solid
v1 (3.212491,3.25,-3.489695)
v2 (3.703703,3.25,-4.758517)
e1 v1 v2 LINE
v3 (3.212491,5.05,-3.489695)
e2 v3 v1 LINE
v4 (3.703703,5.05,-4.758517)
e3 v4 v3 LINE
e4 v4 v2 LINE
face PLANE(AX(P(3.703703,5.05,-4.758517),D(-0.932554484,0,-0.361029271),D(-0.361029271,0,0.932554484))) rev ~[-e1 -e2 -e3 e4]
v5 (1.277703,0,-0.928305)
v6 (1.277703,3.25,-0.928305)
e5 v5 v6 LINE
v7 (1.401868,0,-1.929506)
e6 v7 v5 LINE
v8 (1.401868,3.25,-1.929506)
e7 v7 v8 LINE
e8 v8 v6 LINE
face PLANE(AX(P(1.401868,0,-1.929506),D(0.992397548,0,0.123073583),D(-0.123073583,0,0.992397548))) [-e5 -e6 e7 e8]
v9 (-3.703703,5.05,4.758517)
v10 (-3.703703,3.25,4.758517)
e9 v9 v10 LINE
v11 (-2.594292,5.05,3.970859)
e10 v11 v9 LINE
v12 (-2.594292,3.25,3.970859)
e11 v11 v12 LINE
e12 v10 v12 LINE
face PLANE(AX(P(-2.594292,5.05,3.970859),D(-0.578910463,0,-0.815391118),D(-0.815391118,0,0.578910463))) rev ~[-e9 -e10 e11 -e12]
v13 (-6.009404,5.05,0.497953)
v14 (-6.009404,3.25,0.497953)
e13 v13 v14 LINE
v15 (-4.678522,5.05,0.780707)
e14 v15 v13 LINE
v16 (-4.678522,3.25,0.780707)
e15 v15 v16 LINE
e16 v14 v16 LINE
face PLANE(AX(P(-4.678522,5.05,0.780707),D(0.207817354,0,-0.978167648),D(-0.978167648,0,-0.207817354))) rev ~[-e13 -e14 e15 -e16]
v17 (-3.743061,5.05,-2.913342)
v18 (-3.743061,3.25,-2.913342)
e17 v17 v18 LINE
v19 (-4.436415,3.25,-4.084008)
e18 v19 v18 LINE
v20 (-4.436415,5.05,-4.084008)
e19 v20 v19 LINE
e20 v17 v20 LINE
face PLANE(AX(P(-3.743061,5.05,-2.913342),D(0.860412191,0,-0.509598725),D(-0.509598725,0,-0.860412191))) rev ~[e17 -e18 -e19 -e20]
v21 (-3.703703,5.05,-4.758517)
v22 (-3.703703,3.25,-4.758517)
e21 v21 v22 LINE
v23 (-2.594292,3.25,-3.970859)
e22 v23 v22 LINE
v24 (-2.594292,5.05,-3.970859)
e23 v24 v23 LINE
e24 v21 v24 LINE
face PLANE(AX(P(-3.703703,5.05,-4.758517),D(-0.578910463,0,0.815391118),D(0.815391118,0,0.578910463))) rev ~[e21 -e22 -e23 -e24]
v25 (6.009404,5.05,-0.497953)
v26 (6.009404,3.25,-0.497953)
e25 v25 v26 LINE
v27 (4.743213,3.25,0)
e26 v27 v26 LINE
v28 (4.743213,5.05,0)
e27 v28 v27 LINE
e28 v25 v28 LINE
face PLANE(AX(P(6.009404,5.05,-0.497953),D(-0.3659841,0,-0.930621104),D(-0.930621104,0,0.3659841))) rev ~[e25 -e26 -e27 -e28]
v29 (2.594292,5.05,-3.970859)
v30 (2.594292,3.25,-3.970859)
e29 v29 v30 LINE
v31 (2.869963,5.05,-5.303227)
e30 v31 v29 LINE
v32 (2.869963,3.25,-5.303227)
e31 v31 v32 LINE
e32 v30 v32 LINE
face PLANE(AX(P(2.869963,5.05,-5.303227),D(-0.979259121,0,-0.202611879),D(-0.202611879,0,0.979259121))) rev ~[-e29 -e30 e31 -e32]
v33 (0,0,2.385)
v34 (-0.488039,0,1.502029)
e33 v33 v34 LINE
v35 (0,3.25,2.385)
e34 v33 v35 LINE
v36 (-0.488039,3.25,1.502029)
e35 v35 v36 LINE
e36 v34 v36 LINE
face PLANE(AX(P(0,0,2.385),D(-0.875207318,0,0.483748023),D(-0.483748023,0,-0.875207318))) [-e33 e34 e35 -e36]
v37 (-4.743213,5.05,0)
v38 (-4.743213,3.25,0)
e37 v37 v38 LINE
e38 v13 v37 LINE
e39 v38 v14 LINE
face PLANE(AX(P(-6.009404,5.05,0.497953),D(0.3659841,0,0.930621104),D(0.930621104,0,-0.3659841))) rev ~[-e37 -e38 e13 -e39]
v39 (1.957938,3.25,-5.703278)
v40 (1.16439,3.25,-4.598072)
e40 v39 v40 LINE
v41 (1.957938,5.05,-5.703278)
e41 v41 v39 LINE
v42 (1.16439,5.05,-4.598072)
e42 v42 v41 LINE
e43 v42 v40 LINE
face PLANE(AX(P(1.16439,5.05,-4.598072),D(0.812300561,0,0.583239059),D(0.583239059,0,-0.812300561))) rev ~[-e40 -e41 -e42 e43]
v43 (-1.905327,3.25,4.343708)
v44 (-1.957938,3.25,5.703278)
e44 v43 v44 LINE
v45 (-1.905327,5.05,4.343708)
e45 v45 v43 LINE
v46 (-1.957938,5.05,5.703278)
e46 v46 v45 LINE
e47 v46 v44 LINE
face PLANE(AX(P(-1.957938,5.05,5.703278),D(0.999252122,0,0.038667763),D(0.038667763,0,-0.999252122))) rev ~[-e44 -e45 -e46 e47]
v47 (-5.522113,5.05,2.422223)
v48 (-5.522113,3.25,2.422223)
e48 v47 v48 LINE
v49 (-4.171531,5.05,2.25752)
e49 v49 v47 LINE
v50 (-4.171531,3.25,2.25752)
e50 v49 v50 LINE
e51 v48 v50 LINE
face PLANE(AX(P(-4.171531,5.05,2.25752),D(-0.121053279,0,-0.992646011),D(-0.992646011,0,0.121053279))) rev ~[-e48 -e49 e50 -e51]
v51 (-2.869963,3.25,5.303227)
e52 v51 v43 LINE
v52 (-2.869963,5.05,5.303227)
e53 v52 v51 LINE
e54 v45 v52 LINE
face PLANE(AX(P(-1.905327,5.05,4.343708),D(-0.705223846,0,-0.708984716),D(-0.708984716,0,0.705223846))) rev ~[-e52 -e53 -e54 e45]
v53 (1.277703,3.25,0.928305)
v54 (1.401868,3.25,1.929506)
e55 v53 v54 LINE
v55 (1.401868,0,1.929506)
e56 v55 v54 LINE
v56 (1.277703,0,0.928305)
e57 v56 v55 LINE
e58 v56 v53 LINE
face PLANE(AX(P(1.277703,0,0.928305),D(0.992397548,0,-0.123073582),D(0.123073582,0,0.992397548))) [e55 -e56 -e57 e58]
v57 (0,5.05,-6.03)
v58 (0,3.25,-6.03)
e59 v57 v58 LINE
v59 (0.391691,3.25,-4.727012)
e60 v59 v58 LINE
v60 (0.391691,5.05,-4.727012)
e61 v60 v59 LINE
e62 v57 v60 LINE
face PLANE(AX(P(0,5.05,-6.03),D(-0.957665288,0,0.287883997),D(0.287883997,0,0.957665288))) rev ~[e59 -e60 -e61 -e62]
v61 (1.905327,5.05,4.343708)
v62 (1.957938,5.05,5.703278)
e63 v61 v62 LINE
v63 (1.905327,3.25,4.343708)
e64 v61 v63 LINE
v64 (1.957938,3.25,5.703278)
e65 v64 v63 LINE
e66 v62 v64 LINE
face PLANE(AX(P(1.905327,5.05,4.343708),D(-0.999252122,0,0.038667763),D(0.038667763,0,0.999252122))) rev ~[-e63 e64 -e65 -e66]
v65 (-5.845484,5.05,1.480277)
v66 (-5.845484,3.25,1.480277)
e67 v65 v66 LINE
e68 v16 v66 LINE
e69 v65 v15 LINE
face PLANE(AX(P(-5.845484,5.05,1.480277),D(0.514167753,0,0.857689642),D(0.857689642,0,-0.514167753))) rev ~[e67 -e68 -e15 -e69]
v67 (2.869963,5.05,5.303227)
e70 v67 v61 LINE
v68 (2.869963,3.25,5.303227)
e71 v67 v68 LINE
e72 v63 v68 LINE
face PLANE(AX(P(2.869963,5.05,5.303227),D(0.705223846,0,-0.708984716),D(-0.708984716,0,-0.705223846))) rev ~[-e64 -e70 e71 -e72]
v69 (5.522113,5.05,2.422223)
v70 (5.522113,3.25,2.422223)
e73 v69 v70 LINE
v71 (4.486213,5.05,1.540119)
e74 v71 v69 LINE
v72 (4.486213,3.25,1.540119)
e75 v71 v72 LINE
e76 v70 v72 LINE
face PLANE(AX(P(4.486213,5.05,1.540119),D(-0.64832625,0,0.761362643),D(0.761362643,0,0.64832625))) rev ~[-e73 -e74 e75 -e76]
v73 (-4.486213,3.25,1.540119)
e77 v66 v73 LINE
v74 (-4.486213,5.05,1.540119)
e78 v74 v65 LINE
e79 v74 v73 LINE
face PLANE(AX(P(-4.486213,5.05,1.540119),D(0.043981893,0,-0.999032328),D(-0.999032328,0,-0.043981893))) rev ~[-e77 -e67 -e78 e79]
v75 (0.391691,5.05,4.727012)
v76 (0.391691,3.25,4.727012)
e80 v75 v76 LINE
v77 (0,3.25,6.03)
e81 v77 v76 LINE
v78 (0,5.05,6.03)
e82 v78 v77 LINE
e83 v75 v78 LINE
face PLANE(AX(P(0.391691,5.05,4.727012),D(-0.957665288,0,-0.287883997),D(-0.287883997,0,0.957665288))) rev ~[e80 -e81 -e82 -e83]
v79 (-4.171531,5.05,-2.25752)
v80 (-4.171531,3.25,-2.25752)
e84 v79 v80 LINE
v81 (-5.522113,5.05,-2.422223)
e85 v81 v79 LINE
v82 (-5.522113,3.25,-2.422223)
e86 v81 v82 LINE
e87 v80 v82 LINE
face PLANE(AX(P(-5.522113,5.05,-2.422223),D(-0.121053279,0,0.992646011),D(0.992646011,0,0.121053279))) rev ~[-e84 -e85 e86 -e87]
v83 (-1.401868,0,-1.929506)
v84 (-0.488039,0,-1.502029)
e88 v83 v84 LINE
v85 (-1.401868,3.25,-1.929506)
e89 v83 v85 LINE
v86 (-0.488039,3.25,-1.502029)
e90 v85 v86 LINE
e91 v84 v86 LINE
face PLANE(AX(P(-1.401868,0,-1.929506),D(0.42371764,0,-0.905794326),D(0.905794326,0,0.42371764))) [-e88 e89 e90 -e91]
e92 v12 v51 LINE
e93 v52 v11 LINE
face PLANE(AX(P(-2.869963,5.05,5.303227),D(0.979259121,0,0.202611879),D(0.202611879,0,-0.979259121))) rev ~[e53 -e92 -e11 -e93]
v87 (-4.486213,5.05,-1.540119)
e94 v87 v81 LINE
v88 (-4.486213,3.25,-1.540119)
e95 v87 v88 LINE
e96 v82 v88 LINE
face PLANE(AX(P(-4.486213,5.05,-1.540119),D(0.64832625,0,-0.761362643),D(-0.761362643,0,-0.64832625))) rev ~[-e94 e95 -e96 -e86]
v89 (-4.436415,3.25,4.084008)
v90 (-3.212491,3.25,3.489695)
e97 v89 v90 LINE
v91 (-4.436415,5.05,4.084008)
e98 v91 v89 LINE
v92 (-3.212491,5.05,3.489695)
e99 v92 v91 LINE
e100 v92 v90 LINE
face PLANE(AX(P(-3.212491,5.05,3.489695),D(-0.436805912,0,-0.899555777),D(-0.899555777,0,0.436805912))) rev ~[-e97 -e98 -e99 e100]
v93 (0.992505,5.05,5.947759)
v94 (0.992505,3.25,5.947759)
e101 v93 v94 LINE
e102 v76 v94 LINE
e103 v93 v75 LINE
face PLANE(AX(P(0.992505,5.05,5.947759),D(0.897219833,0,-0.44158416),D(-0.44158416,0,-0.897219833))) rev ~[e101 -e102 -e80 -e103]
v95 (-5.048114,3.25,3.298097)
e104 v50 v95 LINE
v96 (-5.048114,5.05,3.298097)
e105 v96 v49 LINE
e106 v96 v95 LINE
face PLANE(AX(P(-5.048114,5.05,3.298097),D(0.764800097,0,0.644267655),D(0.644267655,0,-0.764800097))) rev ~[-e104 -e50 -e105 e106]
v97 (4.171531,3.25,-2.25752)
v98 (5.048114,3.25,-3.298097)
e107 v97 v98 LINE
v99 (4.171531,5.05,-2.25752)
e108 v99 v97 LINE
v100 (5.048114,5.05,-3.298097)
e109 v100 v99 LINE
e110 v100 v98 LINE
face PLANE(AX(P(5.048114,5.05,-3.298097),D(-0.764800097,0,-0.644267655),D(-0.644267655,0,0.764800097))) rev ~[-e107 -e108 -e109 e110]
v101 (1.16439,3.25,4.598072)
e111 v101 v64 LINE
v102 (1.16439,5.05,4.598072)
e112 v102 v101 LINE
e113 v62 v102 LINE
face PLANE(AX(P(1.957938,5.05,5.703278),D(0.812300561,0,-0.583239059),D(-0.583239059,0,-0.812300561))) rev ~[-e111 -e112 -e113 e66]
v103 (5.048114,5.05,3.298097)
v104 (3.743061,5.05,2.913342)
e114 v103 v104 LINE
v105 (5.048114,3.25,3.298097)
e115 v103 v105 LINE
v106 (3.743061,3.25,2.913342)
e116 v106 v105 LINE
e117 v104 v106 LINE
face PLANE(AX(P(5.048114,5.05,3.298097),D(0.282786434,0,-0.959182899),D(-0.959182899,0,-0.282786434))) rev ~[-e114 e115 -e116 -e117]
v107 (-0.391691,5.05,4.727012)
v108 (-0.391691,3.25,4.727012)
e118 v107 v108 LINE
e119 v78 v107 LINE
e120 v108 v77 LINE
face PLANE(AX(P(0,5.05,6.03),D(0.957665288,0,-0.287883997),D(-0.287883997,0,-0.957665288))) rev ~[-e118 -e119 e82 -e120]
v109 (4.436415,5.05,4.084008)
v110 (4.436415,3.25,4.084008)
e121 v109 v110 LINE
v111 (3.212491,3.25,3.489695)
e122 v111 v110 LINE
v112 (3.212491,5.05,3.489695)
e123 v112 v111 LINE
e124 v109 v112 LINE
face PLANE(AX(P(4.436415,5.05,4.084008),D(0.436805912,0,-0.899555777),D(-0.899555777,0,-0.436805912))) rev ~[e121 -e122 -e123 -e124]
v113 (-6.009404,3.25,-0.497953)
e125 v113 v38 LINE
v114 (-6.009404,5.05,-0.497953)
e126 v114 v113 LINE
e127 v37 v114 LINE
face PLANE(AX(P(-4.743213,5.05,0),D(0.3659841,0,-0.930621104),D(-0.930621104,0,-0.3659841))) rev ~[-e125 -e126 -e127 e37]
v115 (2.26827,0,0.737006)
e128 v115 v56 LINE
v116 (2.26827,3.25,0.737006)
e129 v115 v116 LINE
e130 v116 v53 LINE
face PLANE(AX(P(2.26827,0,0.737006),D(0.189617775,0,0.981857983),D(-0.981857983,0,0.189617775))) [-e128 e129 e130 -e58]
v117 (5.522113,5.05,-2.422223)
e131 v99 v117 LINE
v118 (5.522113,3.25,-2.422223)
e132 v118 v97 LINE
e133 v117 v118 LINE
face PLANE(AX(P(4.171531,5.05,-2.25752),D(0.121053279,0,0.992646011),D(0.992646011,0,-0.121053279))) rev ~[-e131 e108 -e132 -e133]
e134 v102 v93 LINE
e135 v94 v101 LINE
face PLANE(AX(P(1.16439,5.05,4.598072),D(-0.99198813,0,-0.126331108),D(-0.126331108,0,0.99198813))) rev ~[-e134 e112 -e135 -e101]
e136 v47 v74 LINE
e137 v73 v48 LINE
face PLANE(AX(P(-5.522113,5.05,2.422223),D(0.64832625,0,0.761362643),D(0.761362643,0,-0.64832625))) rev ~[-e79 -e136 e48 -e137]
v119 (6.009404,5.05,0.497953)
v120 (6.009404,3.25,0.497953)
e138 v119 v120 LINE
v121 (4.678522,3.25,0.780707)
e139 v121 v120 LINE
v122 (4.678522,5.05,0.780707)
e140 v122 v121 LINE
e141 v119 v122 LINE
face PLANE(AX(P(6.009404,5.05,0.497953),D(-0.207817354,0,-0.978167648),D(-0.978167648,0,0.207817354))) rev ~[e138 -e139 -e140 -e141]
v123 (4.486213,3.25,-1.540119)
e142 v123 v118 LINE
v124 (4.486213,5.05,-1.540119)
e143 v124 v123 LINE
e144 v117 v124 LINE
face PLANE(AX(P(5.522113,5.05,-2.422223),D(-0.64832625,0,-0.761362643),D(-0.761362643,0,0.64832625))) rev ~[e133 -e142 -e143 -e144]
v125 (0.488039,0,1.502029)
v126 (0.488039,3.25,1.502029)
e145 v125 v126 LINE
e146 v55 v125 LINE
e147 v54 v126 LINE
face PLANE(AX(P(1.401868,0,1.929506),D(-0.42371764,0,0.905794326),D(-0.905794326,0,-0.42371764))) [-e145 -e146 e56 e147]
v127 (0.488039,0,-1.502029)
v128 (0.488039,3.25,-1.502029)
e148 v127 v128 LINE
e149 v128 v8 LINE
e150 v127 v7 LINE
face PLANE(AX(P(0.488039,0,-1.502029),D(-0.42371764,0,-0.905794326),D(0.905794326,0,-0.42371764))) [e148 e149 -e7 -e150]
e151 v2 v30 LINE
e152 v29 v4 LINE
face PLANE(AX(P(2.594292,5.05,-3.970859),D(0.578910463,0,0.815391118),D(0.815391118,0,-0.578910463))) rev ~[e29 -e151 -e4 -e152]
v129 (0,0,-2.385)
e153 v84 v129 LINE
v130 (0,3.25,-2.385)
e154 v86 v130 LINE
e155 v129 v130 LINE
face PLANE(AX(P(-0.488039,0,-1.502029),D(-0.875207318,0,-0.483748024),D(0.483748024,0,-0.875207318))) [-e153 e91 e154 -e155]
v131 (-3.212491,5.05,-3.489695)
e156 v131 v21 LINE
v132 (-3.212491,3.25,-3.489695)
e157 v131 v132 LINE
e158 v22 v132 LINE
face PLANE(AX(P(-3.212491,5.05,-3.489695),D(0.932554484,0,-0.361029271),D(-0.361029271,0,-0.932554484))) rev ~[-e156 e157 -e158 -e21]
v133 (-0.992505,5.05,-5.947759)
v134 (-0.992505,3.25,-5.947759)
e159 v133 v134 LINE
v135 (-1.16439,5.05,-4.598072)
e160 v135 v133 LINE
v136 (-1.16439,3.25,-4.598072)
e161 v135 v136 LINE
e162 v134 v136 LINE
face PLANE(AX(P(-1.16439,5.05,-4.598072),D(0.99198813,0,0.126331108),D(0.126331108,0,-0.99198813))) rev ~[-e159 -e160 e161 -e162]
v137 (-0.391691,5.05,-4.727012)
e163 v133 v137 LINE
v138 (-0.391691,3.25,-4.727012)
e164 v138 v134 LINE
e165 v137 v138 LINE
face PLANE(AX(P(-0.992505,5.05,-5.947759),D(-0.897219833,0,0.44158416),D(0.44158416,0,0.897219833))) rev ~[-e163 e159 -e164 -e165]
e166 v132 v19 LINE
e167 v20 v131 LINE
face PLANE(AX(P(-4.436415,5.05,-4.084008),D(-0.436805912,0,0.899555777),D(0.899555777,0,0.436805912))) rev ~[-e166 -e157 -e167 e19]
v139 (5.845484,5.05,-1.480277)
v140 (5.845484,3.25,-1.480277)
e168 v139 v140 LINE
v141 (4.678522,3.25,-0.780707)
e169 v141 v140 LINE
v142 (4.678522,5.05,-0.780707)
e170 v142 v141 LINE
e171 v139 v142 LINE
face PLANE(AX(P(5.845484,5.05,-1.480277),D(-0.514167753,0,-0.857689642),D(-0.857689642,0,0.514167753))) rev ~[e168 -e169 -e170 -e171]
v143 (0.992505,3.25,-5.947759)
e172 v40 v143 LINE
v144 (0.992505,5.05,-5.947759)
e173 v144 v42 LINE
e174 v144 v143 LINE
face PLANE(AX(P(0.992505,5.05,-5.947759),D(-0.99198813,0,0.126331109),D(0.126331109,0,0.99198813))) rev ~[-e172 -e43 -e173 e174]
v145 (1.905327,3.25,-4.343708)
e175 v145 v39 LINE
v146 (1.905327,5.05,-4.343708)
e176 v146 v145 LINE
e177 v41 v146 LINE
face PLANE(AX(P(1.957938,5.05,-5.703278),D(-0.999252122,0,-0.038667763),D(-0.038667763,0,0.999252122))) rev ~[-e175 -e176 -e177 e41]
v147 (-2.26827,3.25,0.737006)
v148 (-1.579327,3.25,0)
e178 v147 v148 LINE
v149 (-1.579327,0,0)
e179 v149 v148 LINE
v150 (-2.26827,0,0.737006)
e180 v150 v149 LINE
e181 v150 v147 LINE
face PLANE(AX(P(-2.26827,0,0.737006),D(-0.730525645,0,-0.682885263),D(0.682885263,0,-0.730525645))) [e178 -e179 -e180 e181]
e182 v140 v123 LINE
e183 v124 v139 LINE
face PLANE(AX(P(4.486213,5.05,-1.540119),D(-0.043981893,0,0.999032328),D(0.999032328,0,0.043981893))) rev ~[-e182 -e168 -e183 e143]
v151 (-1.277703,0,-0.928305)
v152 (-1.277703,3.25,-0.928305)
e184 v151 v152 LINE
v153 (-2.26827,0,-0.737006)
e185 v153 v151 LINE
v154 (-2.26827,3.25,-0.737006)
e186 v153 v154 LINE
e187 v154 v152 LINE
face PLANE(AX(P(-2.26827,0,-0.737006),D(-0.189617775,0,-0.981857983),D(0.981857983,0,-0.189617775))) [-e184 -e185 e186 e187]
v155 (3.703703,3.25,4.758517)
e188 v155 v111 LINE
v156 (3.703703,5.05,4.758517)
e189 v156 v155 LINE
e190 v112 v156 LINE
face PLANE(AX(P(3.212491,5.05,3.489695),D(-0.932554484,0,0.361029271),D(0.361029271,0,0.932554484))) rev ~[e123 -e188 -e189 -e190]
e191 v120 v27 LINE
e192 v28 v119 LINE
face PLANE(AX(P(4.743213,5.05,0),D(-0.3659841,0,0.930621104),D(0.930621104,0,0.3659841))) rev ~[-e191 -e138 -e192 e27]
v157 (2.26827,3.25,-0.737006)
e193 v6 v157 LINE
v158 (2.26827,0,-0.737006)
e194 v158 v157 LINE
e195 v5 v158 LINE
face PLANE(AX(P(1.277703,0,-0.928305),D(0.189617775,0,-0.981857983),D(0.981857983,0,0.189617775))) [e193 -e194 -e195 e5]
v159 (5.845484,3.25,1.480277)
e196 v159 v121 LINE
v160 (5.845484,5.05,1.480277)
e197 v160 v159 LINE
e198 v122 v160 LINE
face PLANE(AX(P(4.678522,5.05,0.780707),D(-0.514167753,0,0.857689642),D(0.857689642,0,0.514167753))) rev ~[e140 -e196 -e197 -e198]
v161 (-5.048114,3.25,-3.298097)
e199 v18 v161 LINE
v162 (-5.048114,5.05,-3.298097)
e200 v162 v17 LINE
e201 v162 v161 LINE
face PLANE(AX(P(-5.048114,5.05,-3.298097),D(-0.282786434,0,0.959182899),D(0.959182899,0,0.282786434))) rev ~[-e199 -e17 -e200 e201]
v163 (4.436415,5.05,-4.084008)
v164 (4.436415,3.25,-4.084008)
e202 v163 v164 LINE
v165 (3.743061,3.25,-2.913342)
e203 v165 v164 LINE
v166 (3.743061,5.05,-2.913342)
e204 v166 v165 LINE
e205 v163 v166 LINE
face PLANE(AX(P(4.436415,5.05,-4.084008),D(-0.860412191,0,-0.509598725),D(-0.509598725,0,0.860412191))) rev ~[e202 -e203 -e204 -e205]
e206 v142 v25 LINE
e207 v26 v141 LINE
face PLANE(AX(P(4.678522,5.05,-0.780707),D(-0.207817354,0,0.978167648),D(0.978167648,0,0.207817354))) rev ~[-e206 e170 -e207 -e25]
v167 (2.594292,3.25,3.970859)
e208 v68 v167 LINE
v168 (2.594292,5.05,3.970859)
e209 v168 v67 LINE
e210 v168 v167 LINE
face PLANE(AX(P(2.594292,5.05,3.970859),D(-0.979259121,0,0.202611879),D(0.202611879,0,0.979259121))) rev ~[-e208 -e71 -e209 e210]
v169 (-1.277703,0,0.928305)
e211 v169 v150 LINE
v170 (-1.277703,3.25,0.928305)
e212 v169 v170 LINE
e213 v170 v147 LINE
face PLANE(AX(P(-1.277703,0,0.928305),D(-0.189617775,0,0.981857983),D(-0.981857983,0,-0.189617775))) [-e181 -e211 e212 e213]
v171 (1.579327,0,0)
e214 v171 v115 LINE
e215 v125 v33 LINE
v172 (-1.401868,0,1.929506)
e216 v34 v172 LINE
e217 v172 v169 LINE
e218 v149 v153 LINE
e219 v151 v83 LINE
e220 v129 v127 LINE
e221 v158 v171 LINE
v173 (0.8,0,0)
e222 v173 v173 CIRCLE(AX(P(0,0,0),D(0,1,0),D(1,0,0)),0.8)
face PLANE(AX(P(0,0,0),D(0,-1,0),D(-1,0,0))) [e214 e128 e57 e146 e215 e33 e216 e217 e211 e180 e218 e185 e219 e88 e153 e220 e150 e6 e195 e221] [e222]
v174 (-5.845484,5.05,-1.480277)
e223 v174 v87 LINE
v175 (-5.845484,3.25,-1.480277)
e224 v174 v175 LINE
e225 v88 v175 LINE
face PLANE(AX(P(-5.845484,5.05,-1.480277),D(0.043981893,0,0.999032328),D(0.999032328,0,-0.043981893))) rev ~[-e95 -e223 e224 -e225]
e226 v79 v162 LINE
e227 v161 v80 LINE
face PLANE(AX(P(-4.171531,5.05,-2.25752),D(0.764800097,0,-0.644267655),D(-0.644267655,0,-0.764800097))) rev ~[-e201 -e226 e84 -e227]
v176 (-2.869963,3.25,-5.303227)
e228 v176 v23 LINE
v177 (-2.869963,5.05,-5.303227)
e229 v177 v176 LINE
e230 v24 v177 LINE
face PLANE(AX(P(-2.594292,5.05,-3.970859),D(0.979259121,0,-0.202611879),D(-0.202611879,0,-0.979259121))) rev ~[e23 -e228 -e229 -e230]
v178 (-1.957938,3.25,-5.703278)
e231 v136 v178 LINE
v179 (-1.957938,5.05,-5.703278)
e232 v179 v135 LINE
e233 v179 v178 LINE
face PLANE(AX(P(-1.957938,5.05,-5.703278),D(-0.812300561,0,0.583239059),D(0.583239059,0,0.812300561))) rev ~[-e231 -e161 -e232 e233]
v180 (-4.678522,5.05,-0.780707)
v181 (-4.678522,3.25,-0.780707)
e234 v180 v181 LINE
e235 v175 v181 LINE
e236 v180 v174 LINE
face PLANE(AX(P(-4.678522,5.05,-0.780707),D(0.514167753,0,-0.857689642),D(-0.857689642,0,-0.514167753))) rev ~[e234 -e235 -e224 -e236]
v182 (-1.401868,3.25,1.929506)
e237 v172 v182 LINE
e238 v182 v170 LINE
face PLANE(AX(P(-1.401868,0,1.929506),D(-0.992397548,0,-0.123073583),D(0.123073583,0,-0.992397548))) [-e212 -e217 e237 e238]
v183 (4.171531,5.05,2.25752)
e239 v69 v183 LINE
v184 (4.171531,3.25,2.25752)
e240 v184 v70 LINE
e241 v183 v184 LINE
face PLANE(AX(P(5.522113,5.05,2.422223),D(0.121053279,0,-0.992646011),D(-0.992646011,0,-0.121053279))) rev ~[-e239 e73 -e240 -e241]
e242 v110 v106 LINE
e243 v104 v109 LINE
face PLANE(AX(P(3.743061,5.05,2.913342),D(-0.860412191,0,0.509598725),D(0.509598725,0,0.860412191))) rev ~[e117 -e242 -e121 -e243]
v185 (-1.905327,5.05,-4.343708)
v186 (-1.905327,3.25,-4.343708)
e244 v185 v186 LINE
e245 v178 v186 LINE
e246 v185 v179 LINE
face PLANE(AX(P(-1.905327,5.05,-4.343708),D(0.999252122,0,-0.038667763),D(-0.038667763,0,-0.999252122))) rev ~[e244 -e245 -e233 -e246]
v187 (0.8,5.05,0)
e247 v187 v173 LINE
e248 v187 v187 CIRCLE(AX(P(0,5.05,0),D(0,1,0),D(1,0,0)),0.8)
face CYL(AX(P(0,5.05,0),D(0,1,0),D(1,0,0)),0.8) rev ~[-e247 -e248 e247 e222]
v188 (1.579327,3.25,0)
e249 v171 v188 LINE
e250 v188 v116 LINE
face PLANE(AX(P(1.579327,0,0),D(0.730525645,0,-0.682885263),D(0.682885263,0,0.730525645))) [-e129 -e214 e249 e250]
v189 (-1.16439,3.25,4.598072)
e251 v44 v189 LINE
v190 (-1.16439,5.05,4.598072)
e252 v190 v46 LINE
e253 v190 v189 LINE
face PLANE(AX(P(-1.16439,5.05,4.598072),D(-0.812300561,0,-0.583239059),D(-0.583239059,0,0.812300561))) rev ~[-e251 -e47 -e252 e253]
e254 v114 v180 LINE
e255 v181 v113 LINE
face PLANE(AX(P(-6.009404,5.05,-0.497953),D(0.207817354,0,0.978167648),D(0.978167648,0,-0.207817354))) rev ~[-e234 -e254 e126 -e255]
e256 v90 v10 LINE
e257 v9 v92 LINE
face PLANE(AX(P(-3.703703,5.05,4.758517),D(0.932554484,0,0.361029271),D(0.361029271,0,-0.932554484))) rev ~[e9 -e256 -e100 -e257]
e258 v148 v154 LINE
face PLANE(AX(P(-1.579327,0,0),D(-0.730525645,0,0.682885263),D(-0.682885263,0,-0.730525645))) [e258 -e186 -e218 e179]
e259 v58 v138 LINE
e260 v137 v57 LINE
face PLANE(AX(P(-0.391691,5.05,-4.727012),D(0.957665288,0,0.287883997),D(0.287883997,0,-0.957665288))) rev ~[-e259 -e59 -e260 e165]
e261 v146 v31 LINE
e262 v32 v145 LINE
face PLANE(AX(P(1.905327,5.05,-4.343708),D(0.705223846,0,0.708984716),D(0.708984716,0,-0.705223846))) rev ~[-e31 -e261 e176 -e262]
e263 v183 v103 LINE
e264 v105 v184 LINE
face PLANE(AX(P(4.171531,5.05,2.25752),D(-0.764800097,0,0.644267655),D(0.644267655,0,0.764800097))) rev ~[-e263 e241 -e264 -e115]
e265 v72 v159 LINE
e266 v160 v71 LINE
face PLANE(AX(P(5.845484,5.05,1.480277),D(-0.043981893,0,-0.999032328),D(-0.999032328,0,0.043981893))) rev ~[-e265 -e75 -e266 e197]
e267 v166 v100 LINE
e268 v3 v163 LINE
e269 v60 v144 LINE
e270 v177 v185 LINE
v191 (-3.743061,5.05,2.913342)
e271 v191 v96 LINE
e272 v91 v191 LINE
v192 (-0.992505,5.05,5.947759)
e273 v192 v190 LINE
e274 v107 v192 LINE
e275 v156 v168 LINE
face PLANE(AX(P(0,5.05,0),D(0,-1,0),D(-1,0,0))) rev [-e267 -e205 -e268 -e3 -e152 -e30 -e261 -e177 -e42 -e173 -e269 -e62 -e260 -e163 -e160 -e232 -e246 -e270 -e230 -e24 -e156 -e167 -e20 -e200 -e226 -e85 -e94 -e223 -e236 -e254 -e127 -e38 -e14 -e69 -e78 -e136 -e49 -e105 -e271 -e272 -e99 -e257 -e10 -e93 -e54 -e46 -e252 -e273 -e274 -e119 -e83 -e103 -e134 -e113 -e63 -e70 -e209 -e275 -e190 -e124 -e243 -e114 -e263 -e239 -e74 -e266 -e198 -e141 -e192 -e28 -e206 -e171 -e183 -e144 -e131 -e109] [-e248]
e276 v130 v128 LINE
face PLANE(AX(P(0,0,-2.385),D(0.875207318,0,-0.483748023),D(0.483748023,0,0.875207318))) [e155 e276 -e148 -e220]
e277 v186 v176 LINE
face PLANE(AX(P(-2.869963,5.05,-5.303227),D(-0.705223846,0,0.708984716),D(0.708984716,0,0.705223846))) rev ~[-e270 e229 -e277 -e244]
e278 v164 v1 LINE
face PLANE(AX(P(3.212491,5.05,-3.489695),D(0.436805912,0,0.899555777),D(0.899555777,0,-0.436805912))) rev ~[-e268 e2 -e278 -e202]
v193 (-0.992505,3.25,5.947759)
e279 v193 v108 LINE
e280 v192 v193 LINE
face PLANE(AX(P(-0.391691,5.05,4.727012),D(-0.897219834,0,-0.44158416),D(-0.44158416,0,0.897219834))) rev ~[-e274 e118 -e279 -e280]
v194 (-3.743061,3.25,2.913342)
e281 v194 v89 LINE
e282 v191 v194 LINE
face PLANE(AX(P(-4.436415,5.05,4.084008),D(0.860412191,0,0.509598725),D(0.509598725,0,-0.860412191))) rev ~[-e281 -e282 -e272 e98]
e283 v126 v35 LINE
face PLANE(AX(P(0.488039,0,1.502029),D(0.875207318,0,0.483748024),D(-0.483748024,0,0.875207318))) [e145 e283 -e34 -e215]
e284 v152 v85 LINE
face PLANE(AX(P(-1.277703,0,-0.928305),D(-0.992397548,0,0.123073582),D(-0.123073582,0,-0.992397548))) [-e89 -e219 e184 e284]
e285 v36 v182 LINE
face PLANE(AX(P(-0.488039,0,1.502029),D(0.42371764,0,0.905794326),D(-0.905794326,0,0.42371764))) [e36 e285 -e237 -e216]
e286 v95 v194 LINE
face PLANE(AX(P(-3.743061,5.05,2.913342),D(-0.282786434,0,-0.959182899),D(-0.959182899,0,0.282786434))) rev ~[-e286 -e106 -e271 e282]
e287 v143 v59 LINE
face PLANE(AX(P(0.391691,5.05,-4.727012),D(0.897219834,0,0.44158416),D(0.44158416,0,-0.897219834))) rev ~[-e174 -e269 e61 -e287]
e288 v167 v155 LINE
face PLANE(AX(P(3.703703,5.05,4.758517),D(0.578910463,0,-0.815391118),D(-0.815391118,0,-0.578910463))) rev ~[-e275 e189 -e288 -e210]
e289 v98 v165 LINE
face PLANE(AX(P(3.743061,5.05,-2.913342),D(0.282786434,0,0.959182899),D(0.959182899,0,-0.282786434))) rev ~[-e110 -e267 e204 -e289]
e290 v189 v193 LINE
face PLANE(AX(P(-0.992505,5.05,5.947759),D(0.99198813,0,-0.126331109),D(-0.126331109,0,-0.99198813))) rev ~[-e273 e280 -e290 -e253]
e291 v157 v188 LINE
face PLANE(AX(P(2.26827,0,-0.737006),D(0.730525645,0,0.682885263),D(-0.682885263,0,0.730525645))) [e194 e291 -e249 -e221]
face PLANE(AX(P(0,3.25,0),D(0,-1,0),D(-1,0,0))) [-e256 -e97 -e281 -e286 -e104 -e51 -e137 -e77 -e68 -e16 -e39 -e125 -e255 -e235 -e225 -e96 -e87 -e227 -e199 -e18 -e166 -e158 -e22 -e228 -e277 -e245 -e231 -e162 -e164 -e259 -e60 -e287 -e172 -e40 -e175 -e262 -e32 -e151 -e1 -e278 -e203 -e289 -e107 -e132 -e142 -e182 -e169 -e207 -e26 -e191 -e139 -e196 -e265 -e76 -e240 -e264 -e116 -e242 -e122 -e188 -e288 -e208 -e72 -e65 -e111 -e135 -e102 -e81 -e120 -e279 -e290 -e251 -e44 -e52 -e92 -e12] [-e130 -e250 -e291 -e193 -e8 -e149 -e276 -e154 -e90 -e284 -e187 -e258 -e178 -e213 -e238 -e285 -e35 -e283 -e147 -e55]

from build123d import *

# Parameters (mm, degrees)
SKETCH2_R          = 0.8
CUT_EXTRUDE1_DEPTH = 6.05
CUT_EXTRUDE2_DEPTH = 6.05
CIRPATTERN1_COUNT  = 38
CUT_EXTRUDE3_DEPTH = 3.25
CIRPATTERN2_COUNT  = 10


with BuildPart() as part:
    # Sketch1 → Revolve1 (revolve)
    with BuildSketch(Plane.XY):
        Polygon((-6.03, 5.05), (-6.03, 3.25), (-2.385, 3.25), (-2.385, 0), (0, 0), (0, 5.05), align=None)
    revolve(axis=Axis((0, 5.05, 0), (0, -1, 0)))

    # Sketch2 → Cut-Extrude1 (cut, through all)
    with BuildSketch(Plane(origin=(0, 5.05, 0), x_dir=(1, 0, 0), z_dir=(0, 1, 0))):
        Circle(SKETCH2_R)
    extrude(amount=-CUT_EXTRUDE1_DEPTH, mode=Mode.SUBTRACT)

    # Sketch3 → Cut-Extrude2 (cut, through all)
    with BuildSketch(Plane(origin=(0, 5.05, 0), x_dir=(1, 0, 0), z_dir=(0, 1, 0))):
        with BuildLine():
            Line((0, 6.03), (0.391691416, 4.727012418))
            Line((0.391691416, 4.727012418), (0.992505379, 5.94775866))
            ThreePointArc((0.992505379, 5.94775866), (0.497953453, 6.009404493), (0, 6.03))
        make_face()
    cut_extrude2 = extrude(amount=-CUT_EXTRUDE2_DEPTH, mode=Mode.SUBTRACT)

    # CirPattern1: Cut-Extrude2 ×38 about axis
    cirpattern1_axis = Axis((0, 0, 0), (0, 1, 0))
    for i in range(1, CIRPATTERN1_COUNT):
        add(cut_extrude2.rotate(cirpattern1_axis, i * 360 / CIRPATTERN1_COUNT), mode=Mode.SUBTRACT)

    # Sketch4 → Cut-Extrude3 (cut)
    with BuildSketch(Plane.XZ):
        with BuildLine():
            Line((1.401867827, 1.929505532), (0.488038951, 1.502029444))
            Line((0.488038951, 1.502029444), (0, 2.385))
            ThreePointArc((0, 2.385), (0.737005532, 2.268269791), (1.401867827, 1.929505532))
        make_face()
    cut_extrude3 = extrude(amount=-CUT_EXTRUDE3_DEPTH, mode=Mode.SUBTRACT)

    # CirPattern2: Cut-Extrude3 ×10 about axis
    cirpattern2_axis = Axis((0, 0, 0), (0, 1, 0))
    for i in range(1, CIRPATTERN2_COUNT):
        add(cut_extrude3.rotate(cirpattern2_axis, i * 360 / CIRPATTERN2_COUNT), mode=Mode.SUBTRACT)


solid = part.part
